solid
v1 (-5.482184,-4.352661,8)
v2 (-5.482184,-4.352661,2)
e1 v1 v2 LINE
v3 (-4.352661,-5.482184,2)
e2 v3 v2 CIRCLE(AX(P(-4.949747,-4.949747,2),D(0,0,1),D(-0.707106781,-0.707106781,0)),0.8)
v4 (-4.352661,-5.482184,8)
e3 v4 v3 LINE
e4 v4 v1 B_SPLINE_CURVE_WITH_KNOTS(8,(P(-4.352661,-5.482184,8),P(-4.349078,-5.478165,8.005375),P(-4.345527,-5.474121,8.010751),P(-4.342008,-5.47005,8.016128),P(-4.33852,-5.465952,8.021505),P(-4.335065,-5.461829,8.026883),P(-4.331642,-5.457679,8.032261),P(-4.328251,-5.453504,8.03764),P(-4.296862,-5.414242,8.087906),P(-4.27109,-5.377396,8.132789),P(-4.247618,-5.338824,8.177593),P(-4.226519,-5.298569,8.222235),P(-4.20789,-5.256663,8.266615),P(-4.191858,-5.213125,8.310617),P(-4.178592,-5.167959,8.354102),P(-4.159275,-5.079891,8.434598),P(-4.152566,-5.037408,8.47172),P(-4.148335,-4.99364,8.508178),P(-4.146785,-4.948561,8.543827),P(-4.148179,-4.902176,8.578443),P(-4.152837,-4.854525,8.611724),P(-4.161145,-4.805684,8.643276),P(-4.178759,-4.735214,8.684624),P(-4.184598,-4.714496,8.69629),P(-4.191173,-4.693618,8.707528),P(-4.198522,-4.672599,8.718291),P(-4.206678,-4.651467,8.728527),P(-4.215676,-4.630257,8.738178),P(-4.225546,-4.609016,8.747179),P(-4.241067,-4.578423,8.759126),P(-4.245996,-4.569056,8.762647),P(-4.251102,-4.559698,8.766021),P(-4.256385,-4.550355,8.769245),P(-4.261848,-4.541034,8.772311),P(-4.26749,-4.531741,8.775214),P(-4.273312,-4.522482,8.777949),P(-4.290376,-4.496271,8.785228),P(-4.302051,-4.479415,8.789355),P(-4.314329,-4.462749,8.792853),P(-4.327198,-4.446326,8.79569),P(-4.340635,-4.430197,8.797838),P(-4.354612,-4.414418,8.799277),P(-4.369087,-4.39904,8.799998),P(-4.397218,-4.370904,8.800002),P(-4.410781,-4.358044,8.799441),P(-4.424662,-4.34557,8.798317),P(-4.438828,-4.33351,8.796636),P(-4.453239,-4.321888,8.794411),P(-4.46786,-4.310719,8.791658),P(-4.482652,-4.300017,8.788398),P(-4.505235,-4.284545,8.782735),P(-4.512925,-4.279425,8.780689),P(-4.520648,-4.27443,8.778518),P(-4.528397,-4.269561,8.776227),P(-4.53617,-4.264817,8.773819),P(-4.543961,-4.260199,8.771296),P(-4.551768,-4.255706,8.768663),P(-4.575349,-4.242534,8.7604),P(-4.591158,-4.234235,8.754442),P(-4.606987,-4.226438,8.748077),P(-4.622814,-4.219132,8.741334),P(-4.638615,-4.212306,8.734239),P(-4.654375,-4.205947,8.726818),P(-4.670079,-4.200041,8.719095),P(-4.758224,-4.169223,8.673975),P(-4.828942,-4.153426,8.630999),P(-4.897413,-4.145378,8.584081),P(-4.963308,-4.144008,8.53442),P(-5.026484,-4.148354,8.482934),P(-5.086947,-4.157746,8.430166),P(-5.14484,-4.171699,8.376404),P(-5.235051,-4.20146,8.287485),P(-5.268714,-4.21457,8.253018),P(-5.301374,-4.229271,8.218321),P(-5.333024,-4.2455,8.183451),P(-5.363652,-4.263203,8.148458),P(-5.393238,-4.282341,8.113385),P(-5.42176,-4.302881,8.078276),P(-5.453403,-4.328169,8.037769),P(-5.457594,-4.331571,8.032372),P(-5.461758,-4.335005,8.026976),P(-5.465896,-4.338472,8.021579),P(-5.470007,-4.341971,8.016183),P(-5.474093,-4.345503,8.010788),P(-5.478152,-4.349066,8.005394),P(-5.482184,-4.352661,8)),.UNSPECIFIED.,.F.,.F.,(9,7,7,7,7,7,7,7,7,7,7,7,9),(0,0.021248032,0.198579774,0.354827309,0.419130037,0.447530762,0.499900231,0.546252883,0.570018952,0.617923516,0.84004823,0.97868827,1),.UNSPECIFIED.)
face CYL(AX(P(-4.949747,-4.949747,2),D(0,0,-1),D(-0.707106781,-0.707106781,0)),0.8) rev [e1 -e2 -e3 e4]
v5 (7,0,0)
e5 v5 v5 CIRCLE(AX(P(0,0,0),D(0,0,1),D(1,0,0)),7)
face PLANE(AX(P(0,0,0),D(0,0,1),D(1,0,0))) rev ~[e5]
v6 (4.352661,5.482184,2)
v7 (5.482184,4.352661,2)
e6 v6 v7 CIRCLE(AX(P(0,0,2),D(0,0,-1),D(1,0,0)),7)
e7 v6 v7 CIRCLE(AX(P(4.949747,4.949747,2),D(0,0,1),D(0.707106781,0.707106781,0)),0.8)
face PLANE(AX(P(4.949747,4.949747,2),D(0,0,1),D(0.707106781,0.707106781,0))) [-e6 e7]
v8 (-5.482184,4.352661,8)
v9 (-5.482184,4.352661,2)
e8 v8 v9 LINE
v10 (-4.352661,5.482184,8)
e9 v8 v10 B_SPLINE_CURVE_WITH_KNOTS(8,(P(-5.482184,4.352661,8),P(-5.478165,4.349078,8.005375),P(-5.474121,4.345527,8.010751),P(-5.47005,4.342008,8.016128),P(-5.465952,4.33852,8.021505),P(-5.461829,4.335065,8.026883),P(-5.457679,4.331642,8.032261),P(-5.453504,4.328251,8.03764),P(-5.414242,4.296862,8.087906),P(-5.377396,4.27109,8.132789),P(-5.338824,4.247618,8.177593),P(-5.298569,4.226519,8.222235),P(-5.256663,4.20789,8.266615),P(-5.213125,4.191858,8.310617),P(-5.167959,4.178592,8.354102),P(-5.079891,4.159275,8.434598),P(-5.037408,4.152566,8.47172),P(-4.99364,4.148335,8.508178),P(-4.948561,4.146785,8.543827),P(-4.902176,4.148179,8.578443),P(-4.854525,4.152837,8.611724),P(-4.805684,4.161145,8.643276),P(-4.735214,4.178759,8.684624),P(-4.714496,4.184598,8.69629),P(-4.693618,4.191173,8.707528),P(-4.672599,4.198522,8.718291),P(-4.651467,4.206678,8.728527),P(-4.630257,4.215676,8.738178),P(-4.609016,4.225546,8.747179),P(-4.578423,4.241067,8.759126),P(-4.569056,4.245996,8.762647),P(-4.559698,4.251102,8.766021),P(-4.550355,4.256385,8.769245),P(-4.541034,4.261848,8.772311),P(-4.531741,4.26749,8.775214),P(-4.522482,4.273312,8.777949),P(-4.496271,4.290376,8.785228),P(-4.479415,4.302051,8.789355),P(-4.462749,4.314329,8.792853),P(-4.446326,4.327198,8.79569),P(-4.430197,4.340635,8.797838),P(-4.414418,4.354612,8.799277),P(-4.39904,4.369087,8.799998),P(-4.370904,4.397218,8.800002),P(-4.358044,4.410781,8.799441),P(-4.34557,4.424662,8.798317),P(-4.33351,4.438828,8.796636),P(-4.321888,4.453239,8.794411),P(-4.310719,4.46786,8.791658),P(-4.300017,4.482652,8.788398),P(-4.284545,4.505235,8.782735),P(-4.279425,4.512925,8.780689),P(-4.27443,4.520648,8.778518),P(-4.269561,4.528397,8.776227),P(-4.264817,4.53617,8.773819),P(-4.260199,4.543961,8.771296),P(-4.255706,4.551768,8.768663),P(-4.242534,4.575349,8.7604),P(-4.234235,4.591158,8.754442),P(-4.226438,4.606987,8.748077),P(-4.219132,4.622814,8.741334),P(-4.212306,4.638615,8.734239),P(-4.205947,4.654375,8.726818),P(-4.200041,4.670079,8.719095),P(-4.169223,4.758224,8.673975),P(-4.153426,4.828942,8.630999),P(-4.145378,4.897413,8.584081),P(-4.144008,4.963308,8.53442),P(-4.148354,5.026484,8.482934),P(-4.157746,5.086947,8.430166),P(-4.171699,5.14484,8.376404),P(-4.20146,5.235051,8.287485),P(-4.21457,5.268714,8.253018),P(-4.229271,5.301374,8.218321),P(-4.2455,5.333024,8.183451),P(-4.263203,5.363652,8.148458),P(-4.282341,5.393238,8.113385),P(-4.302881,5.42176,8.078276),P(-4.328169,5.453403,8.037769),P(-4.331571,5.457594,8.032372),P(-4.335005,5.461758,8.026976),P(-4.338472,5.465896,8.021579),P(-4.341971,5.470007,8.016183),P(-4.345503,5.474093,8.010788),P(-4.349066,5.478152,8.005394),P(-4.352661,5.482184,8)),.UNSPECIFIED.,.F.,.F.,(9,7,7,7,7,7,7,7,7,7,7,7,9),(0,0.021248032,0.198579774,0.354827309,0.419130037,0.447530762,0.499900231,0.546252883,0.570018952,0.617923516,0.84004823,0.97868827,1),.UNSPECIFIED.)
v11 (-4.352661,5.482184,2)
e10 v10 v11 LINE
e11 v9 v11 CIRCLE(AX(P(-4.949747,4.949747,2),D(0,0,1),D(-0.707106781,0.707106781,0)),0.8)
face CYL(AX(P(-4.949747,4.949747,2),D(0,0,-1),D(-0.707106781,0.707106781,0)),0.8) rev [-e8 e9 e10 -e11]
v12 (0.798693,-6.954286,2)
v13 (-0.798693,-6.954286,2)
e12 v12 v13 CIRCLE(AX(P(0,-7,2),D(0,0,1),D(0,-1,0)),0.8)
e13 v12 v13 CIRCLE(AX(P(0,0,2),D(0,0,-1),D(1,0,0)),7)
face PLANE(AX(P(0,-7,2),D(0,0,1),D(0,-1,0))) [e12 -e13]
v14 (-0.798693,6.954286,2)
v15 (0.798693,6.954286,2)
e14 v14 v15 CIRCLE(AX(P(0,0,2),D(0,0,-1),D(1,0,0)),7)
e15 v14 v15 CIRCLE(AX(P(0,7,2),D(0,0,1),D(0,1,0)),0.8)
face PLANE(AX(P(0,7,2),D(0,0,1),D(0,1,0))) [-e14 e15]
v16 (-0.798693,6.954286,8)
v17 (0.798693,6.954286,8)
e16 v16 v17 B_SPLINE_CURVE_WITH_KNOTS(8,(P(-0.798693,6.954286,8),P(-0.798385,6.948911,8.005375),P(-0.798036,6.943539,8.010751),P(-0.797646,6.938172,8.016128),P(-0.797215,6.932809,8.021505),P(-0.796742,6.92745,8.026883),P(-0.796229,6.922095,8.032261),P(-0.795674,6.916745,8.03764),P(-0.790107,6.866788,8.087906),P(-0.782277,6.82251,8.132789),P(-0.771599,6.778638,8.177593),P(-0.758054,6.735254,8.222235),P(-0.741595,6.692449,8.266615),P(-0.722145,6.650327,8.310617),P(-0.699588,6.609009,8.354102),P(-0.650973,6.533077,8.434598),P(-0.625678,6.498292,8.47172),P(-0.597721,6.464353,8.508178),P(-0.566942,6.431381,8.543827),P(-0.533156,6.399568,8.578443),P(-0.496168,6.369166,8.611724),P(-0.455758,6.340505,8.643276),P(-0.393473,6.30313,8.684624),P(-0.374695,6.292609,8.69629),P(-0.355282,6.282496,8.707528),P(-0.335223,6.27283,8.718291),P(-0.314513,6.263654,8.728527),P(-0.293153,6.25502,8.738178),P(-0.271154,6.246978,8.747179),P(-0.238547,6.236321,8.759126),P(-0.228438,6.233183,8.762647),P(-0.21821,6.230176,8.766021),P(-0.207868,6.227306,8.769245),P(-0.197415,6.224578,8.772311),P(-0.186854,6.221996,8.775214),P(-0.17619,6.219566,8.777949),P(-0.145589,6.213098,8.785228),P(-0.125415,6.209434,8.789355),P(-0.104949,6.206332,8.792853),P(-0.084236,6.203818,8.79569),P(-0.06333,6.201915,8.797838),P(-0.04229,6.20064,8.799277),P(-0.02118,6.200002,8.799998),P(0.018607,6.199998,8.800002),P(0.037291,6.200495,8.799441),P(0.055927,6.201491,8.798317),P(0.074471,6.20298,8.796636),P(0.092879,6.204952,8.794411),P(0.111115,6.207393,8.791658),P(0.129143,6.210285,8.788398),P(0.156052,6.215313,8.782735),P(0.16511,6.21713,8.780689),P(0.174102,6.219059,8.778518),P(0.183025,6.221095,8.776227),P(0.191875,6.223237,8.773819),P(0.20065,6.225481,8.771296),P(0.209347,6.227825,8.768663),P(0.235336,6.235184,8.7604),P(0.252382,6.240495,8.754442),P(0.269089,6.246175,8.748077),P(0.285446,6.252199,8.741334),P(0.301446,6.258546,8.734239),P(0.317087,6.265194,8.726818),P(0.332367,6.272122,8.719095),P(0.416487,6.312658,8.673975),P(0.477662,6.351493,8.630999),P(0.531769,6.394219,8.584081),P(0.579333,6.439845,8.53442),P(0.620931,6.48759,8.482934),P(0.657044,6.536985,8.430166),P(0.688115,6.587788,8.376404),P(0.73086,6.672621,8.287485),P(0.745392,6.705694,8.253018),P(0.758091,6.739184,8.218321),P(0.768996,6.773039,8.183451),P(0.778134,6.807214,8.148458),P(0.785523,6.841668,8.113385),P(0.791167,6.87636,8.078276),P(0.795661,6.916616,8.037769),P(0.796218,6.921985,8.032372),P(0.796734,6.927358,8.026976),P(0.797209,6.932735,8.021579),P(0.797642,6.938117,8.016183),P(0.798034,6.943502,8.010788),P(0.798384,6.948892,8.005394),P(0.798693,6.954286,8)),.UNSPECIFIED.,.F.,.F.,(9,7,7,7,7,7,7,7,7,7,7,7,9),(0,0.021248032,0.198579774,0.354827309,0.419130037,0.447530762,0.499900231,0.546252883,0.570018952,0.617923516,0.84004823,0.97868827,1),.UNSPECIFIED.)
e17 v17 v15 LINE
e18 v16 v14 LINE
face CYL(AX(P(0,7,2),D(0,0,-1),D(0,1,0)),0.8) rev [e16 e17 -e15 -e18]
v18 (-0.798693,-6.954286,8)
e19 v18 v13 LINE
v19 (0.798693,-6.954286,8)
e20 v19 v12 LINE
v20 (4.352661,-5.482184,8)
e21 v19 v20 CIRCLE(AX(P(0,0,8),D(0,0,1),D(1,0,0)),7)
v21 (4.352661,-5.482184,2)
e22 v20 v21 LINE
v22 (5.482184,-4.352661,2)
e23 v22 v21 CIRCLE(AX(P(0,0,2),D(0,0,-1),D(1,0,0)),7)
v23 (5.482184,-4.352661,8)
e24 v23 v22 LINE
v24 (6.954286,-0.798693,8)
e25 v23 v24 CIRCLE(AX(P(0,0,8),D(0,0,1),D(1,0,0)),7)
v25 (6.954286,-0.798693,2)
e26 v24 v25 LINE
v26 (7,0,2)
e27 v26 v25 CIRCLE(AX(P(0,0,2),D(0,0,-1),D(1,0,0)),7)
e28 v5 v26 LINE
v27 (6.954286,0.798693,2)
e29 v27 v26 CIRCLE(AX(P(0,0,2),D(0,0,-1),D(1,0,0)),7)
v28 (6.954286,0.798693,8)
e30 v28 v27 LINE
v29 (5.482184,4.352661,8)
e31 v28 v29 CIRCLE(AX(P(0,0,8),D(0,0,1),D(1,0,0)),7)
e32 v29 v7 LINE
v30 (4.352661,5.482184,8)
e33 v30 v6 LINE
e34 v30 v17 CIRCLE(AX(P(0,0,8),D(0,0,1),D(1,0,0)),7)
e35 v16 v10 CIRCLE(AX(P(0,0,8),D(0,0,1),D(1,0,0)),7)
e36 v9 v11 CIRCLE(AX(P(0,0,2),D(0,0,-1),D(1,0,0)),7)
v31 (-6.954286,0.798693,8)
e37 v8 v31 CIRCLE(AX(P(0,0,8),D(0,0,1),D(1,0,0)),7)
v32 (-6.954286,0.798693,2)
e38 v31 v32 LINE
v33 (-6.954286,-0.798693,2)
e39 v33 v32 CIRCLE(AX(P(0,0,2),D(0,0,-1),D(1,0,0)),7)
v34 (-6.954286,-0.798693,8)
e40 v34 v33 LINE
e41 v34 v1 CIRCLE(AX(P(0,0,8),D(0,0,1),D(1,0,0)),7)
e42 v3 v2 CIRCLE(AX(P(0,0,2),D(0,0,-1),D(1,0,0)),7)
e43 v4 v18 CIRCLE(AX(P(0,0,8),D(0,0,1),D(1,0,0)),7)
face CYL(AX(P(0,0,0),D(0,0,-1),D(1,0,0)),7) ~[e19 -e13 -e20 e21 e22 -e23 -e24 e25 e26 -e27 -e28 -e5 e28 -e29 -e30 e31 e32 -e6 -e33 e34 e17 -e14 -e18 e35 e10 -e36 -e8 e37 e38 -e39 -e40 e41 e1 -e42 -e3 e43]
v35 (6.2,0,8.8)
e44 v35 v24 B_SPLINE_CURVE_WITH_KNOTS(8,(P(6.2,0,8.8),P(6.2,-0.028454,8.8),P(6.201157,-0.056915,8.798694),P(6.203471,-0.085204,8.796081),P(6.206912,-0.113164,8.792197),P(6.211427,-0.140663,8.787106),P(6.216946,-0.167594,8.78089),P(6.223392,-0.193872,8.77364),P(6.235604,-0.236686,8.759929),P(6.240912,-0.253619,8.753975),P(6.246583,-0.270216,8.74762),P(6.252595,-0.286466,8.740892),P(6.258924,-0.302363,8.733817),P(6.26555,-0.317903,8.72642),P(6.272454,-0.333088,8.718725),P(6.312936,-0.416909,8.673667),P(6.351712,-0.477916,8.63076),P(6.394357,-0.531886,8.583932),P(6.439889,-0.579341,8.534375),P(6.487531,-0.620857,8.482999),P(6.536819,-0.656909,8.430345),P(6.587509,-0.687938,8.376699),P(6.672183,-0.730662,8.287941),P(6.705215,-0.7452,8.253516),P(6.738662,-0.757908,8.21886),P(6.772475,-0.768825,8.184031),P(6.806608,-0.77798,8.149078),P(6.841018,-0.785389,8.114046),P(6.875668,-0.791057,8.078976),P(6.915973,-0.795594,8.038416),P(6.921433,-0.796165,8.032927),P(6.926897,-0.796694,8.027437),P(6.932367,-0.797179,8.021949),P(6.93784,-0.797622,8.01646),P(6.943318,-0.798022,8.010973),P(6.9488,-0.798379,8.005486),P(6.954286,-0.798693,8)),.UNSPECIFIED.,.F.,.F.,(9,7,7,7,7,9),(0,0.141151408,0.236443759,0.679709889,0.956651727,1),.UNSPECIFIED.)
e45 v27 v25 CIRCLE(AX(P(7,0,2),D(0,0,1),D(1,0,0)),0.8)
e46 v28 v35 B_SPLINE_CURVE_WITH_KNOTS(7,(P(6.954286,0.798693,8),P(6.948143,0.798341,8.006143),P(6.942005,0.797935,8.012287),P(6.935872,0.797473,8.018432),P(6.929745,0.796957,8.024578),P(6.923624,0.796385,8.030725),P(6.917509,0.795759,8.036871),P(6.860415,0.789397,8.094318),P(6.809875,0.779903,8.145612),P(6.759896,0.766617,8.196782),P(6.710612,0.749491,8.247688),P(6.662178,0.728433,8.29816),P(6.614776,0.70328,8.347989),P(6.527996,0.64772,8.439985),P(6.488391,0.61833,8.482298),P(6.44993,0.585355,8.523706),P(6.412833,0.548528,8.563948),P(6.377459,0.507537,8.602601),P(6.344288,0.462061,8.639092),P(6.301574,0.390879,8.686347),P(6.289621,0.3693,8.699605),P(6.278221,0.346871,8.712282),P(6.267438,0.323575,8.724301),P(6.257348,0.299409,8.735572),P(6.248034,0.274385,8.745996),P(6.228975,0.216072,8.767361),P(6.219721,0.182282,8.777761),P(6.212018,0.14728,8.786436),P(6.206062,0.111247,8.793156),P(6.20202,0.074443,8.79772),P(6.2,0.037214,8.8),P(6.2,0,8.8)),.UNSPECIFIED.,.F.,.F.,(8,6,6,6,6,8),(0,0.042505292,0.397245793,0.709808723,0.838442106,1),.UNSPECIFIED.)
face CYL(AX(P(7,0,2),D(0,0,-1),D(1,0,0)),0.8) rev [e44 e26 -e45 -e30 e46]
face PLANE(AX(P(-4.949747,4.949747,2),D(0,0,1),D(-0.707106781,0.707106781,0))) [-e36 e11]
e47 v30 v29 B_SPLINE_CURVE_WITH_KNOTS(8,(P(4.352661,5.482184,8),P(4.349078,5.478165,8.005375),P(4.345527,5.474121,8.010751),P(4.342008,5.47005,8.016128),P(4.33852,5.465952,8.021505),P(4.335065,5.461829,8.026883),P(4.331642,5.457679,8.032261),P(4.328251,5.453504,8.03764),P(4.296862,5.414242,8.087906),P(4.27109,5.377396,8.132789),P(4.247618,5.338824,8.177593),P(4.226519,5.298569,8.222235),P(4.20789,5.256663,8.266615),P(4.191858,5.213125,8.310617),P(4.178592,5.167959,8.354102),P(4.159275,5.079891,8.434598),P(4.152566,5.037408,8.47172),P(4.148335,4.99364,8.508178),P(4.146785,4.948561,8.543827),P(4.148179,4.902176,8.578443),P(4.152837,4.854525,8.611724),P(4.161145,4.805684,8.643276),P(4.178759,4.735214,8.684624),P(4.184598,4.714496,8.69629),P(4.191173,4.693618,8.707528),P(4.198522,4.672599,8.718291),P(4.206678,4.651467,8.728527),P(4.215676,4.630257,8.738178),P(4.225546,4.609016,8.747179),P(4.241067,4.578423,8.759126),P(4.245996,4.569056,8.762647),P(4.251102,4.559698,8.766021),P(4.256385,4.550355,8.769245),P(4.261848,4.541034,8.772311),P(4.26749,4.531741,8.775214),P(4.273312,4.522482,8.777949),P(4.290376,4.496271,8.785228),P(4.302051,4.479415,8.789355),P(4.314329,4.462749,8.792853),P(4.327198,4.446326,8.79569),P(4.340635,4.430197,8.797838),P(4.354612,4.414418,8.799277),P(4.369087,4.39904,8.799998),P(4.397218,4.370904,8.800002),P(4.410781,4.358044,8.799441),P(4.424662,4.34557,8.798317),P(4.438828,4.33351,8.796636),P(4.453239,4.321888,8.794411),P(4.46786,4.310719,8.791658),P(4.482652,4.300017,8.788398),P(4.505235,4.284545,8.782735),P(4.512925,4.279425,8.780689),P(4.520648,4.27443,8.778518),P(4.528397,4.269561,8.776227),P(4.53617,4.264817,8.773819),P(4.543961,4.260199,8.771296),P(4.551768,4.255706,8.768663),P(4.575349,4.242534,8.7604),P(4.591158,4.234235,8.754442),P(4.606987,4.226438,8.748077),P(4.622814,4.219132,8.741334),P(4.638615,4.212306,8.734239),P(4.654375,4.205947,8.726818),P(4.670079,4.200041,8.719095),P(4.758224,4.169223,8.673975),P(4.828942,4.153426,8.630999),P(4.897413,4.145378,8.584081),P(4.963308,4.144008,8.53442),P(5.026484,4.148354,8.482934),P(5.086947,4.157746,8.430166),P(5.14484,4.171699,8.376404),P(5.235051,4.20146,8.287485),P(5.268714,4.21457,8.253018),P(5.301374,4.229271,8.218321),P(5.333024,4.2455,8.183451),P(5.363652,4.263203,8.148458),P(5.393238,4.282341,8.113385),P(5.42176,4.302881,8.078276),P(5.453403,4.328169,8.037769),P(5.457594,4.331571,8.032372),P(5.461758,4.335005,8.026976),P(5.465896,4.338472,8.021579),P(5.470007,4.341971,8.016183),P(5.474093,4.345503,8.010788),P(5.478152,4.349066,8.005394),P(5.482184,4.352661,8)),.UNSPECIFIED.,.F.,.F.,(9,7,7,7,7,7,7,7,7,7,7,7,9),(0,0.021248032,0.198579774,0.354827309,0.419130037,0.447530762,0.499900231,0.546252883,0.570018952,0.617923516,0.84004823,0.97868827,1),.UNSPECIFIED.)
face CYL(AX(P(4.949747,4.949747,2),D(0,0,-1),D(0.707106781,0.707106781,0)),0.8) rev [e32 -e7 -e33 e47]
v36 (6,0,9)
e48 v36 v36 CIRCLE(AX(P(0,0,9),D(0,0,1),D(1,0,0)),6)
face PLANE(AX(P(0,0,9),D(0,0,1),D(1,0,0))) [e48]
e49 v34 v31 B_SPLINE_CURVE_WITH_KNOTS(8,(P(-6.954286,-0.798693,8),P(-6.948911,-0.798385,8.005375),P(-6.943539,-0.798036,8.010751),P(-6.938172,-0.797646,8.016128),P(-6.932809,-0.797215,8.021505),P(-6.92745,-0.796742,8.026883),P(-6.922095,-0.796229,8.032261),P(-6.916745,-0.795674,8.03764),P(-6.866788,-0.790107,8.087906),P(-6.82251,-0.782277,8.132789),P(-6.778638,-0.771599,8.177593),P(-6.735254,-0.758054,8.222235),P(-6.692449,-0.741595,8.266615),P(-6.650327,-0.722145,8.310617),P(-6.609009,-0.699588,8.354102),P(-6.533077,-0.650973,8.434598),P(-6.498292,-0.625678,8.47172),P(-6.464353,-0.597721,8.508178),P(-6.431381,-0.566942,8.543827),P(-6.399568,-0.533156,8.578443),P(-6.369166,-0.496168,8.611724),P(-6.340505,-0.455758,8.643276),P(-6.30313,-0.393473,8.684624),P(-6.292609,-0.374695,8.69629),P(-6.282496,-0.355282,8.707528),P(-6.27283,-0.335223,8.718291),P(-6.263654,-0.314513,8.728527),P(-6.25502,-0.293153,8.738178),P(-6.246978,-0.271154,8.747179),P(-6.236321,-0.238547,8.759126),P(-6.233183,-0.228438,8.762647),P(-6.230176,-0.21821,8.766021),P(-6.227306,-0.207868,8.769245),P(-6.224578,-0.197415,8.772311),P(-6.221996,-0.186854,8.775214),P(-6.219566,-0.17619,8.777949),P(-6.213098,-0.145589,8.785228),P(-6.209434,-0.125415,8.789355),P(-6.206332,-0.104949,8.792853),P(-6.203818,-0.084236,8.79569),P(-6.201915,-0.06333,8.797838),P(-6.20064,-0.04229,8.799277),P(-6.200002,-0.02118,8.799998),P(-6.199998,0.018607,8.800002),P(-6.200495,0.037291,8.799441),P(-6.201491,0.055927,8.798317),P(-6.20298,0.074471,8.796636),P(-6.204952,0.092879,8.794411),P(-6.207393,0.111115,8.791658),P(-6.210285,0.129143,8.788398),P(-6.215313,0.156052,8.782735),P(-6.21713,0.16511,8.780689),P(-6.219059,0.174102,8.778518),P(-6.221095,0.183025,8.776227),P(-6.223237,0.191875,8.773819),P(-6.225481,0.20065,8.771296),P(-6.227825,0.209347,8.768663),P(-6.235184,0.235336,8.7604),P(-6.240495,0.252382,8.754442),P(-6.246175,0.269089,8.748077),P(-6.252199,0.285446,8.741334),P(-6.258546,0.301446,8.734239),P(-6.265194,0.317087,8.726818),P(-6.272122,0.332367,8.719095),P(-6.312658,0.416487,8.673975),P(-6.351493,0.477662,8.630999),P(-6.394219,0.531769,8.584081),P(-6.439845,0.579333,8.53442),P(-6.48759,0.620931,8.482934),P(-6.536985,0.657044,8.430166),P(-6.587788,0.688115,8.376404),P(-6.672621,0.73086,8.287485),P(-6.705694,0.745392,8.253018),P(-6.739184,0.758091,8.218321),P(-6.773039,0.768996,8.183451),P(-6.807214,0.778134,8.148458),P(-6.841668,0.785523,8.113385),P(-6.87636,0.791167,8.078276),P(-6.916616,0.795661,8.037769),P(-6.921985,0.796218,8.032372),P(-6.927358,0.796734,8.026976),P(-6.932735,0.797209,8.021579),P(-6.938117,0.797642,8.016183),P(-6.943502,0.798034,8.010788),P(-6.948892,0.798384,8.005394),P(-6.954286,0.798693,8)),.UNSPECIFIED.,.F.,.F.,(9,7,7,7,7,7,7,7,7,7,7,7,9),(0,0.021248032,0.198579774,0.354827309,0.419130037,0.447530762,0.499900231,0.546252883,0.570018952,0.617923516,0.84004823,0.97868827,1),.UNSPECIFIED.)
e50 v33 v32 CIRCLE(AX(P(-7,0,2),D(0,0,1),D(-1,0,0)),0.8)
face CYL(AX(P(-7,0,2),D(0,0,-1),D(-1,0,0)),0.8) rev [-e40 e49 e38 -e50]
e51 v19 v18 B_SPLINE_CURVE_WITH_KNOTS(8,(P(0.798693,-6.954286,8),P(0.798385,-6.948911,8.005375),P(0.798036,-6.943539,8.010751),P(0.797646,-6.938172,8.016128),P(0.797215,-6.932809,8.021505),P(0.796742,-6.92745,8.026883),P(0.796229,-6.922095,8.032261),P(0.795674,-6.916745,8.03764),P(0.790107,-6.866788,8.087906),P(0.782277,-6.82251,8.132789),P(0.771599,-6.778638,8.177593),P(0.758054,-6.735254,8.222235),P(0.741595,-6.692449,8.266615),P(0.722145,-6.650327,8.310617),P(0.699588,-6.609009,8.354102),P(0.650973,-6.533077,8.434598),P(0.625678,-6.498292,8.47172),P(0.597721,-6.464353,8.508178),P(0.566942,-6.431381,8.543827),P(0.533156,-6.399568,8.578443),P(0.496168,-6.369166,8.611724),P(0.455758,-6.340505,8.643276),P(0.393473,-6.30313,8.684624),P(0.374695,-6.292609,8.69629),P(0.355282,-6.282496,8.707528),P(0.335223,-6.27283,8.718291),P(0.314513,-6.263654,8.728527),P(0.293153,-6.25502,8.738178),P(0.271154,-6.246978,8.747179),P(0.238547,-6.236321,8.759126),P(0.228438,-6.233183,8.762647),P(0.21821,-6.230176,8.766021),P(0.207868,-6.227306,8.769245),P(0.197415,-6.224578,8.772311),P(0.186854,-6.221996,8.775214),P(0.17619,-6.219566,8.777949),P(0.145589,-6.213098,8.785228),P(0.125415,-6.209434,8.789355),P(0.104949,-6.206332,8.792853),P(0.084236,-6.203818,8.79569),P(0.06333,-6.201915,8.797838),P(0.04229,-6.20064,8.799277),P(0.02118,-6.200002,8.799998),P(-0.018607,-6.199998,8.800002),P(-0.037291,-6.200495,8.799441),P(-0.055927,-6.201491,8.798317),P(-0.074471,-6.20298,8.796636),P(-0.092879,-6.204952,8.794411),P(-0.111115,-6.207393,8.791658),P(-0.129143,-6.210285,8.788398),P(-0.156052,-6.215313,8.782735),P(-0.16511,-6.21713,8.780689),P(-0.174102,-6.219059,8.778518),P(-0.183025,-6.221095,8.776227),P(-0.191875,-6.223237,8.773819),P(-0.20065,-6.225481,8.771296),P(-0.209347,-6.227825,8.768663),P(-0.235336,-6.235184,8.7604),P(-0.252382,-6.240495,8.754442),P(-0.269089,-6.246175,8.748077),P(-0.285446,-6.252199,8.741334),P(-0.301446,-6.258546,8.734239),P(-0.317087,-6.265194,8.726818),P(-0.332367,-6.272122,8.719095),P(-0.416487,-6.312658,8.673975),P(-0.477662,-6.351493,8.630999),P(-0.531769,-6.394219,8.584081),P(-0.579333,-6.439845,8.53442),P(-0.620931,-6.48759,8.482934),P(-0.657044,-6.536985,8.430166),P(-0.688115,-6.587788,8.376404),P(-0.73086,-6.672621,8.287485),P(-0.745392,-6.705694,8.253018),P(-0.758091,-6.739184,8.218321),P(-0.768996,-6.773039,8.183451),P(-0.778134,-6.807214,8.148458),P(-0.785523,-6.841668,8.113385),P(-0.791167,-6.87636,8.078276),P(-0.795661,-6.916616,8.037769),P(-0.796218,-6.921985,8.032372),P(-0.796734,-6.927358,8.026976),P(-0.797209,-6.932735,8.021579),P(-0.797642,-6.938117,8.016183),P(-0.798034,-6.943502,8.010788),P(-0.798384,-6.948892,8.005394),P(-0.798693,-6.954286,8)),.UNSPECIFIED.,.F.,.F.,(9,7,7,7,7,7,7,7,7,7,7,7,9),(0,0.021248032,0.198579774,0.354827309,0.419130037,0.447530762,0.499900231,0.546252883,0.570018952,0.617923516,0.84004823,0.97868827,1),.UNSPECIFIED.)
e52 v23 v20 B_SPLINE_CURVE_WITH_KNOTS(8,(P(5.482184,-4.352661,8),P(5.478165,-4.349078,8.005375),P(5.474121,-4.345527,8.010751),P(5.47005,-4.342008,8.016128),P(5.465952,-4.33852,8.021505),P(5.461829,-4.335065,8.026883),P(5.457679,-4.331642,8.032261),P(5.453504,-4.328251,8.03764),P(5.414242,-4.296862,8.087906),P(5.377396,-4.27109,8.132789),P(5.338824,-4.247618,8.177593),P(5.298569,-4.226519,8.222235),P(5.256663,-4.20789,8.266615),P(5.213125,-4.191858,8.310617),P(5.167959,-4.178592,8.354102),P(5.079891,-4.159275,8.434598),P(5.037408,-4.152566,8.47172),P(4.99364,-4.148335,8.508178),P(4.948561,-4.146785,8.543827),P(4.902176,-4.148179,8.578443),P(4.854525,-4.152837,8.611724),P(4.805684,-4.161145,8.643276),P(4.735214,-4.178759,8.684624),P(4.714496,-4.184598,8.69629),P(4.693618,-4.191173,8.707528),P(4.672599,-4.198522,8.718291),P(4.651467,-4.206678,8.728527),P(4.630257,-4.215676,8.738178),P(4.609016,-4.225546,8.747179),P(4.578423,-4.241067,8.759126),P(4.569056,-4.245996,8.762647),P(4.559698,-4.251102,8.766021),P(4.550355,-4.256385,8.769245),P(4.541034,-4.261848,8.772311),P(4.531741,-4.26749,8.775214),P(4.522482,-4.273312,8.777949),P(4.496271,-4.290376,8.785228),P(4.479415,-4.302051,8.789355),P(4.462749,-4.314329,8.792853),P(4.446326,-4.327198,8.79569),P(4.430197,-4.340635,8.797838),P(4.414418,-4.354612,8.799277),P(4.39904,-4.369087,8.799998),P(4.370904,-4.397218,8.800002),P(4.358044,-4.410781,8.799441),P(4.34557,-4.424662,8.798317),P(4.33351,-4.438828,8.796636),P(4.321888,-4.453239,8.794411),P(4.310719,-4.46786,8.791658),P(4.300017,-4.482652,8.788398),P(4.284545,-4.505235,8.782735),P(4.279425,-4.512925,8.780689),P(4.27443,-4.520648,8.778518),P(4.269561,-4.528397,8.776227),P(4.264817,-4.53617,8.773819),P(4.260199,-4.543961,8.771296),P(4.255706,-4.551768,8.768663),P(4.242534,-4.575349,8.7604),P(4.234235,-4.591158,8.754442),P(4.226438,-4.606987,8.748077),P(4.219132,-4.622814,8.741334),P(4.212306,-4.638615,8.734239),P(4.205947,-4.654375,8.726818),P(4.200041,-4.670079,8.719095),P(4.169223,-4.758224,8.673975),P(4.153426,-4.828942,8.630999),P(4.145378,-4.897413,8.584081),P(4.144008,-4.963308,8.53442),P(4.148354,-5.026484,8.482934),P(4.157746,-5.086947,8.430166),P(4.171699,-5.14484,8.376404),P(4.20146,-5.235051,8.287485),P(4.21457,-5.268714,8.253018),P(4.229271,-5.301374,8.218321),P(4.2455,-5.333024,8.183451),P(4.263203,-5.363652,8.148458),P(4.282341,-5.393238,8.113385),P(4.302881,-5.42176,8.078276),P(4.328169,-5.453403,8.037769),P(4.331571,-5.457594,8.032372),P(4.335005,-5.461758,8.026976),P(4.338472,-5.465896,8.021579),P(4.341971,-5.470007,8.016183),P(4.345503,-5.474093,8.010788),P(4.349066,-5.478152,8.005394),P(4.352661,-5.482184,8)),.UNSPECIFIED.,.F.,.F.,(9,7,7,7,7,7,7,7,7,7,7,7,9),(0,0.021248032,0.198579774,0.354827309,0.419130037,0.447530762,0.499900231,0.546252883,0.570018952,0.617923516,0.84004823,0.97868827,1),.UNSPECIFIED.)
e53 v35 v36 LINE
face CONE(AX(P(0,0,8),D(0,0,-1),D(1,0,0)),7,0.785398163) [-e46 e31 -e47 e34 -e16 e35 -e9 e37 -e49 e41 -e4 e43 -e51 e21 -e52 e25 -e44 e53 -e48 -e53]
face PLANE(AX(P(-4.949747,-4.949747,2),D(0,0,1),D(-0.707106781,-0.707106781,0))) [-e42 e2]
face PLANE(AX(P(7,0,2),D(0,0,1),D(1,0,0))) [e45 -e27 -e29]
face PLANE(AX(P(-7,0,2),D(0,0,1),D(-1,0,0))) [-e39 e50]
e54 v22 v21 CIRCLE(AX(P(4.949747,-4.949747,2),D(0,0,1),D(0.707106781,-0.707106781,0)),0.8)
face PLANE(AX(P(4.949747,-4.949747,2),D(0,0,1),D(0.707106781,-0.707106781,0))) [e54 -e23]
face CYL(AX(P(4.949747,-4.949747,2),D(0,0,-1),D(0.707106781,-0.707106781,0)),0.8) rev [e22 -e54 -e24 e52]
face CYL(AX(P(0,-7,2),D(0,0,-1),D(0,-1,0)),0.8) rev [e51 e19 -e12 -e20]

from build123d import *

# Parameters (mm, degrees)
CYLINDER001_R     = 0.8
CYLINDER001_DEPTH = 10
ARRAY_COUNT       = 8
CYLINDER_R        = 7
CYLINDER_DEPTH    = 9
CHAMFER_SIZE      = 1


with BuildPart() as array:
    # Cylinder001 → Cylinder001 (new body)
    with BuildSketch(Plane(origin=(7, 0, 0), x_dir=(1, 0, 0), z_dir=(0, 0, 1))):
        Circle(CYLINDER001_R)
    extrude(amount=CYLINDER001_DEPTH)

    # Array: Array ×8 about axis
    array_axis = Axis((0, 0, 0), (0, 0, 1))


with BuildPart() as array_1:
    add(array.part)
    for i in range(1, ARRAY_COUNT):
        add(array.part.rotate(array_axis, i * 360 / ARRAY_COUNT))


with BuildPart() as array_2:
    # Array placement: moved
    add(array_1.part.moved(Location((0, 0, 2))))


with BuildPart() as cut:
    # Cylinder → Cylinder (new body)
    with BuildSketch(Plane.XY):
        Circle(CYLINDER_R)
    extrude(amount=CYLINDER_DEPTH)

    # Chamfer
    chamfer_edges = [cut.edges().sort_by_distance(p)[0] for p in [
        (-7, 0, 9),
    ]]
    chamfer(chamfer_edges, length=CHAMFER_SIZE)

    # Cut: cut Array
    add(array_2.part, mode=Mode.SUBTRACT)


solid = cut.part
